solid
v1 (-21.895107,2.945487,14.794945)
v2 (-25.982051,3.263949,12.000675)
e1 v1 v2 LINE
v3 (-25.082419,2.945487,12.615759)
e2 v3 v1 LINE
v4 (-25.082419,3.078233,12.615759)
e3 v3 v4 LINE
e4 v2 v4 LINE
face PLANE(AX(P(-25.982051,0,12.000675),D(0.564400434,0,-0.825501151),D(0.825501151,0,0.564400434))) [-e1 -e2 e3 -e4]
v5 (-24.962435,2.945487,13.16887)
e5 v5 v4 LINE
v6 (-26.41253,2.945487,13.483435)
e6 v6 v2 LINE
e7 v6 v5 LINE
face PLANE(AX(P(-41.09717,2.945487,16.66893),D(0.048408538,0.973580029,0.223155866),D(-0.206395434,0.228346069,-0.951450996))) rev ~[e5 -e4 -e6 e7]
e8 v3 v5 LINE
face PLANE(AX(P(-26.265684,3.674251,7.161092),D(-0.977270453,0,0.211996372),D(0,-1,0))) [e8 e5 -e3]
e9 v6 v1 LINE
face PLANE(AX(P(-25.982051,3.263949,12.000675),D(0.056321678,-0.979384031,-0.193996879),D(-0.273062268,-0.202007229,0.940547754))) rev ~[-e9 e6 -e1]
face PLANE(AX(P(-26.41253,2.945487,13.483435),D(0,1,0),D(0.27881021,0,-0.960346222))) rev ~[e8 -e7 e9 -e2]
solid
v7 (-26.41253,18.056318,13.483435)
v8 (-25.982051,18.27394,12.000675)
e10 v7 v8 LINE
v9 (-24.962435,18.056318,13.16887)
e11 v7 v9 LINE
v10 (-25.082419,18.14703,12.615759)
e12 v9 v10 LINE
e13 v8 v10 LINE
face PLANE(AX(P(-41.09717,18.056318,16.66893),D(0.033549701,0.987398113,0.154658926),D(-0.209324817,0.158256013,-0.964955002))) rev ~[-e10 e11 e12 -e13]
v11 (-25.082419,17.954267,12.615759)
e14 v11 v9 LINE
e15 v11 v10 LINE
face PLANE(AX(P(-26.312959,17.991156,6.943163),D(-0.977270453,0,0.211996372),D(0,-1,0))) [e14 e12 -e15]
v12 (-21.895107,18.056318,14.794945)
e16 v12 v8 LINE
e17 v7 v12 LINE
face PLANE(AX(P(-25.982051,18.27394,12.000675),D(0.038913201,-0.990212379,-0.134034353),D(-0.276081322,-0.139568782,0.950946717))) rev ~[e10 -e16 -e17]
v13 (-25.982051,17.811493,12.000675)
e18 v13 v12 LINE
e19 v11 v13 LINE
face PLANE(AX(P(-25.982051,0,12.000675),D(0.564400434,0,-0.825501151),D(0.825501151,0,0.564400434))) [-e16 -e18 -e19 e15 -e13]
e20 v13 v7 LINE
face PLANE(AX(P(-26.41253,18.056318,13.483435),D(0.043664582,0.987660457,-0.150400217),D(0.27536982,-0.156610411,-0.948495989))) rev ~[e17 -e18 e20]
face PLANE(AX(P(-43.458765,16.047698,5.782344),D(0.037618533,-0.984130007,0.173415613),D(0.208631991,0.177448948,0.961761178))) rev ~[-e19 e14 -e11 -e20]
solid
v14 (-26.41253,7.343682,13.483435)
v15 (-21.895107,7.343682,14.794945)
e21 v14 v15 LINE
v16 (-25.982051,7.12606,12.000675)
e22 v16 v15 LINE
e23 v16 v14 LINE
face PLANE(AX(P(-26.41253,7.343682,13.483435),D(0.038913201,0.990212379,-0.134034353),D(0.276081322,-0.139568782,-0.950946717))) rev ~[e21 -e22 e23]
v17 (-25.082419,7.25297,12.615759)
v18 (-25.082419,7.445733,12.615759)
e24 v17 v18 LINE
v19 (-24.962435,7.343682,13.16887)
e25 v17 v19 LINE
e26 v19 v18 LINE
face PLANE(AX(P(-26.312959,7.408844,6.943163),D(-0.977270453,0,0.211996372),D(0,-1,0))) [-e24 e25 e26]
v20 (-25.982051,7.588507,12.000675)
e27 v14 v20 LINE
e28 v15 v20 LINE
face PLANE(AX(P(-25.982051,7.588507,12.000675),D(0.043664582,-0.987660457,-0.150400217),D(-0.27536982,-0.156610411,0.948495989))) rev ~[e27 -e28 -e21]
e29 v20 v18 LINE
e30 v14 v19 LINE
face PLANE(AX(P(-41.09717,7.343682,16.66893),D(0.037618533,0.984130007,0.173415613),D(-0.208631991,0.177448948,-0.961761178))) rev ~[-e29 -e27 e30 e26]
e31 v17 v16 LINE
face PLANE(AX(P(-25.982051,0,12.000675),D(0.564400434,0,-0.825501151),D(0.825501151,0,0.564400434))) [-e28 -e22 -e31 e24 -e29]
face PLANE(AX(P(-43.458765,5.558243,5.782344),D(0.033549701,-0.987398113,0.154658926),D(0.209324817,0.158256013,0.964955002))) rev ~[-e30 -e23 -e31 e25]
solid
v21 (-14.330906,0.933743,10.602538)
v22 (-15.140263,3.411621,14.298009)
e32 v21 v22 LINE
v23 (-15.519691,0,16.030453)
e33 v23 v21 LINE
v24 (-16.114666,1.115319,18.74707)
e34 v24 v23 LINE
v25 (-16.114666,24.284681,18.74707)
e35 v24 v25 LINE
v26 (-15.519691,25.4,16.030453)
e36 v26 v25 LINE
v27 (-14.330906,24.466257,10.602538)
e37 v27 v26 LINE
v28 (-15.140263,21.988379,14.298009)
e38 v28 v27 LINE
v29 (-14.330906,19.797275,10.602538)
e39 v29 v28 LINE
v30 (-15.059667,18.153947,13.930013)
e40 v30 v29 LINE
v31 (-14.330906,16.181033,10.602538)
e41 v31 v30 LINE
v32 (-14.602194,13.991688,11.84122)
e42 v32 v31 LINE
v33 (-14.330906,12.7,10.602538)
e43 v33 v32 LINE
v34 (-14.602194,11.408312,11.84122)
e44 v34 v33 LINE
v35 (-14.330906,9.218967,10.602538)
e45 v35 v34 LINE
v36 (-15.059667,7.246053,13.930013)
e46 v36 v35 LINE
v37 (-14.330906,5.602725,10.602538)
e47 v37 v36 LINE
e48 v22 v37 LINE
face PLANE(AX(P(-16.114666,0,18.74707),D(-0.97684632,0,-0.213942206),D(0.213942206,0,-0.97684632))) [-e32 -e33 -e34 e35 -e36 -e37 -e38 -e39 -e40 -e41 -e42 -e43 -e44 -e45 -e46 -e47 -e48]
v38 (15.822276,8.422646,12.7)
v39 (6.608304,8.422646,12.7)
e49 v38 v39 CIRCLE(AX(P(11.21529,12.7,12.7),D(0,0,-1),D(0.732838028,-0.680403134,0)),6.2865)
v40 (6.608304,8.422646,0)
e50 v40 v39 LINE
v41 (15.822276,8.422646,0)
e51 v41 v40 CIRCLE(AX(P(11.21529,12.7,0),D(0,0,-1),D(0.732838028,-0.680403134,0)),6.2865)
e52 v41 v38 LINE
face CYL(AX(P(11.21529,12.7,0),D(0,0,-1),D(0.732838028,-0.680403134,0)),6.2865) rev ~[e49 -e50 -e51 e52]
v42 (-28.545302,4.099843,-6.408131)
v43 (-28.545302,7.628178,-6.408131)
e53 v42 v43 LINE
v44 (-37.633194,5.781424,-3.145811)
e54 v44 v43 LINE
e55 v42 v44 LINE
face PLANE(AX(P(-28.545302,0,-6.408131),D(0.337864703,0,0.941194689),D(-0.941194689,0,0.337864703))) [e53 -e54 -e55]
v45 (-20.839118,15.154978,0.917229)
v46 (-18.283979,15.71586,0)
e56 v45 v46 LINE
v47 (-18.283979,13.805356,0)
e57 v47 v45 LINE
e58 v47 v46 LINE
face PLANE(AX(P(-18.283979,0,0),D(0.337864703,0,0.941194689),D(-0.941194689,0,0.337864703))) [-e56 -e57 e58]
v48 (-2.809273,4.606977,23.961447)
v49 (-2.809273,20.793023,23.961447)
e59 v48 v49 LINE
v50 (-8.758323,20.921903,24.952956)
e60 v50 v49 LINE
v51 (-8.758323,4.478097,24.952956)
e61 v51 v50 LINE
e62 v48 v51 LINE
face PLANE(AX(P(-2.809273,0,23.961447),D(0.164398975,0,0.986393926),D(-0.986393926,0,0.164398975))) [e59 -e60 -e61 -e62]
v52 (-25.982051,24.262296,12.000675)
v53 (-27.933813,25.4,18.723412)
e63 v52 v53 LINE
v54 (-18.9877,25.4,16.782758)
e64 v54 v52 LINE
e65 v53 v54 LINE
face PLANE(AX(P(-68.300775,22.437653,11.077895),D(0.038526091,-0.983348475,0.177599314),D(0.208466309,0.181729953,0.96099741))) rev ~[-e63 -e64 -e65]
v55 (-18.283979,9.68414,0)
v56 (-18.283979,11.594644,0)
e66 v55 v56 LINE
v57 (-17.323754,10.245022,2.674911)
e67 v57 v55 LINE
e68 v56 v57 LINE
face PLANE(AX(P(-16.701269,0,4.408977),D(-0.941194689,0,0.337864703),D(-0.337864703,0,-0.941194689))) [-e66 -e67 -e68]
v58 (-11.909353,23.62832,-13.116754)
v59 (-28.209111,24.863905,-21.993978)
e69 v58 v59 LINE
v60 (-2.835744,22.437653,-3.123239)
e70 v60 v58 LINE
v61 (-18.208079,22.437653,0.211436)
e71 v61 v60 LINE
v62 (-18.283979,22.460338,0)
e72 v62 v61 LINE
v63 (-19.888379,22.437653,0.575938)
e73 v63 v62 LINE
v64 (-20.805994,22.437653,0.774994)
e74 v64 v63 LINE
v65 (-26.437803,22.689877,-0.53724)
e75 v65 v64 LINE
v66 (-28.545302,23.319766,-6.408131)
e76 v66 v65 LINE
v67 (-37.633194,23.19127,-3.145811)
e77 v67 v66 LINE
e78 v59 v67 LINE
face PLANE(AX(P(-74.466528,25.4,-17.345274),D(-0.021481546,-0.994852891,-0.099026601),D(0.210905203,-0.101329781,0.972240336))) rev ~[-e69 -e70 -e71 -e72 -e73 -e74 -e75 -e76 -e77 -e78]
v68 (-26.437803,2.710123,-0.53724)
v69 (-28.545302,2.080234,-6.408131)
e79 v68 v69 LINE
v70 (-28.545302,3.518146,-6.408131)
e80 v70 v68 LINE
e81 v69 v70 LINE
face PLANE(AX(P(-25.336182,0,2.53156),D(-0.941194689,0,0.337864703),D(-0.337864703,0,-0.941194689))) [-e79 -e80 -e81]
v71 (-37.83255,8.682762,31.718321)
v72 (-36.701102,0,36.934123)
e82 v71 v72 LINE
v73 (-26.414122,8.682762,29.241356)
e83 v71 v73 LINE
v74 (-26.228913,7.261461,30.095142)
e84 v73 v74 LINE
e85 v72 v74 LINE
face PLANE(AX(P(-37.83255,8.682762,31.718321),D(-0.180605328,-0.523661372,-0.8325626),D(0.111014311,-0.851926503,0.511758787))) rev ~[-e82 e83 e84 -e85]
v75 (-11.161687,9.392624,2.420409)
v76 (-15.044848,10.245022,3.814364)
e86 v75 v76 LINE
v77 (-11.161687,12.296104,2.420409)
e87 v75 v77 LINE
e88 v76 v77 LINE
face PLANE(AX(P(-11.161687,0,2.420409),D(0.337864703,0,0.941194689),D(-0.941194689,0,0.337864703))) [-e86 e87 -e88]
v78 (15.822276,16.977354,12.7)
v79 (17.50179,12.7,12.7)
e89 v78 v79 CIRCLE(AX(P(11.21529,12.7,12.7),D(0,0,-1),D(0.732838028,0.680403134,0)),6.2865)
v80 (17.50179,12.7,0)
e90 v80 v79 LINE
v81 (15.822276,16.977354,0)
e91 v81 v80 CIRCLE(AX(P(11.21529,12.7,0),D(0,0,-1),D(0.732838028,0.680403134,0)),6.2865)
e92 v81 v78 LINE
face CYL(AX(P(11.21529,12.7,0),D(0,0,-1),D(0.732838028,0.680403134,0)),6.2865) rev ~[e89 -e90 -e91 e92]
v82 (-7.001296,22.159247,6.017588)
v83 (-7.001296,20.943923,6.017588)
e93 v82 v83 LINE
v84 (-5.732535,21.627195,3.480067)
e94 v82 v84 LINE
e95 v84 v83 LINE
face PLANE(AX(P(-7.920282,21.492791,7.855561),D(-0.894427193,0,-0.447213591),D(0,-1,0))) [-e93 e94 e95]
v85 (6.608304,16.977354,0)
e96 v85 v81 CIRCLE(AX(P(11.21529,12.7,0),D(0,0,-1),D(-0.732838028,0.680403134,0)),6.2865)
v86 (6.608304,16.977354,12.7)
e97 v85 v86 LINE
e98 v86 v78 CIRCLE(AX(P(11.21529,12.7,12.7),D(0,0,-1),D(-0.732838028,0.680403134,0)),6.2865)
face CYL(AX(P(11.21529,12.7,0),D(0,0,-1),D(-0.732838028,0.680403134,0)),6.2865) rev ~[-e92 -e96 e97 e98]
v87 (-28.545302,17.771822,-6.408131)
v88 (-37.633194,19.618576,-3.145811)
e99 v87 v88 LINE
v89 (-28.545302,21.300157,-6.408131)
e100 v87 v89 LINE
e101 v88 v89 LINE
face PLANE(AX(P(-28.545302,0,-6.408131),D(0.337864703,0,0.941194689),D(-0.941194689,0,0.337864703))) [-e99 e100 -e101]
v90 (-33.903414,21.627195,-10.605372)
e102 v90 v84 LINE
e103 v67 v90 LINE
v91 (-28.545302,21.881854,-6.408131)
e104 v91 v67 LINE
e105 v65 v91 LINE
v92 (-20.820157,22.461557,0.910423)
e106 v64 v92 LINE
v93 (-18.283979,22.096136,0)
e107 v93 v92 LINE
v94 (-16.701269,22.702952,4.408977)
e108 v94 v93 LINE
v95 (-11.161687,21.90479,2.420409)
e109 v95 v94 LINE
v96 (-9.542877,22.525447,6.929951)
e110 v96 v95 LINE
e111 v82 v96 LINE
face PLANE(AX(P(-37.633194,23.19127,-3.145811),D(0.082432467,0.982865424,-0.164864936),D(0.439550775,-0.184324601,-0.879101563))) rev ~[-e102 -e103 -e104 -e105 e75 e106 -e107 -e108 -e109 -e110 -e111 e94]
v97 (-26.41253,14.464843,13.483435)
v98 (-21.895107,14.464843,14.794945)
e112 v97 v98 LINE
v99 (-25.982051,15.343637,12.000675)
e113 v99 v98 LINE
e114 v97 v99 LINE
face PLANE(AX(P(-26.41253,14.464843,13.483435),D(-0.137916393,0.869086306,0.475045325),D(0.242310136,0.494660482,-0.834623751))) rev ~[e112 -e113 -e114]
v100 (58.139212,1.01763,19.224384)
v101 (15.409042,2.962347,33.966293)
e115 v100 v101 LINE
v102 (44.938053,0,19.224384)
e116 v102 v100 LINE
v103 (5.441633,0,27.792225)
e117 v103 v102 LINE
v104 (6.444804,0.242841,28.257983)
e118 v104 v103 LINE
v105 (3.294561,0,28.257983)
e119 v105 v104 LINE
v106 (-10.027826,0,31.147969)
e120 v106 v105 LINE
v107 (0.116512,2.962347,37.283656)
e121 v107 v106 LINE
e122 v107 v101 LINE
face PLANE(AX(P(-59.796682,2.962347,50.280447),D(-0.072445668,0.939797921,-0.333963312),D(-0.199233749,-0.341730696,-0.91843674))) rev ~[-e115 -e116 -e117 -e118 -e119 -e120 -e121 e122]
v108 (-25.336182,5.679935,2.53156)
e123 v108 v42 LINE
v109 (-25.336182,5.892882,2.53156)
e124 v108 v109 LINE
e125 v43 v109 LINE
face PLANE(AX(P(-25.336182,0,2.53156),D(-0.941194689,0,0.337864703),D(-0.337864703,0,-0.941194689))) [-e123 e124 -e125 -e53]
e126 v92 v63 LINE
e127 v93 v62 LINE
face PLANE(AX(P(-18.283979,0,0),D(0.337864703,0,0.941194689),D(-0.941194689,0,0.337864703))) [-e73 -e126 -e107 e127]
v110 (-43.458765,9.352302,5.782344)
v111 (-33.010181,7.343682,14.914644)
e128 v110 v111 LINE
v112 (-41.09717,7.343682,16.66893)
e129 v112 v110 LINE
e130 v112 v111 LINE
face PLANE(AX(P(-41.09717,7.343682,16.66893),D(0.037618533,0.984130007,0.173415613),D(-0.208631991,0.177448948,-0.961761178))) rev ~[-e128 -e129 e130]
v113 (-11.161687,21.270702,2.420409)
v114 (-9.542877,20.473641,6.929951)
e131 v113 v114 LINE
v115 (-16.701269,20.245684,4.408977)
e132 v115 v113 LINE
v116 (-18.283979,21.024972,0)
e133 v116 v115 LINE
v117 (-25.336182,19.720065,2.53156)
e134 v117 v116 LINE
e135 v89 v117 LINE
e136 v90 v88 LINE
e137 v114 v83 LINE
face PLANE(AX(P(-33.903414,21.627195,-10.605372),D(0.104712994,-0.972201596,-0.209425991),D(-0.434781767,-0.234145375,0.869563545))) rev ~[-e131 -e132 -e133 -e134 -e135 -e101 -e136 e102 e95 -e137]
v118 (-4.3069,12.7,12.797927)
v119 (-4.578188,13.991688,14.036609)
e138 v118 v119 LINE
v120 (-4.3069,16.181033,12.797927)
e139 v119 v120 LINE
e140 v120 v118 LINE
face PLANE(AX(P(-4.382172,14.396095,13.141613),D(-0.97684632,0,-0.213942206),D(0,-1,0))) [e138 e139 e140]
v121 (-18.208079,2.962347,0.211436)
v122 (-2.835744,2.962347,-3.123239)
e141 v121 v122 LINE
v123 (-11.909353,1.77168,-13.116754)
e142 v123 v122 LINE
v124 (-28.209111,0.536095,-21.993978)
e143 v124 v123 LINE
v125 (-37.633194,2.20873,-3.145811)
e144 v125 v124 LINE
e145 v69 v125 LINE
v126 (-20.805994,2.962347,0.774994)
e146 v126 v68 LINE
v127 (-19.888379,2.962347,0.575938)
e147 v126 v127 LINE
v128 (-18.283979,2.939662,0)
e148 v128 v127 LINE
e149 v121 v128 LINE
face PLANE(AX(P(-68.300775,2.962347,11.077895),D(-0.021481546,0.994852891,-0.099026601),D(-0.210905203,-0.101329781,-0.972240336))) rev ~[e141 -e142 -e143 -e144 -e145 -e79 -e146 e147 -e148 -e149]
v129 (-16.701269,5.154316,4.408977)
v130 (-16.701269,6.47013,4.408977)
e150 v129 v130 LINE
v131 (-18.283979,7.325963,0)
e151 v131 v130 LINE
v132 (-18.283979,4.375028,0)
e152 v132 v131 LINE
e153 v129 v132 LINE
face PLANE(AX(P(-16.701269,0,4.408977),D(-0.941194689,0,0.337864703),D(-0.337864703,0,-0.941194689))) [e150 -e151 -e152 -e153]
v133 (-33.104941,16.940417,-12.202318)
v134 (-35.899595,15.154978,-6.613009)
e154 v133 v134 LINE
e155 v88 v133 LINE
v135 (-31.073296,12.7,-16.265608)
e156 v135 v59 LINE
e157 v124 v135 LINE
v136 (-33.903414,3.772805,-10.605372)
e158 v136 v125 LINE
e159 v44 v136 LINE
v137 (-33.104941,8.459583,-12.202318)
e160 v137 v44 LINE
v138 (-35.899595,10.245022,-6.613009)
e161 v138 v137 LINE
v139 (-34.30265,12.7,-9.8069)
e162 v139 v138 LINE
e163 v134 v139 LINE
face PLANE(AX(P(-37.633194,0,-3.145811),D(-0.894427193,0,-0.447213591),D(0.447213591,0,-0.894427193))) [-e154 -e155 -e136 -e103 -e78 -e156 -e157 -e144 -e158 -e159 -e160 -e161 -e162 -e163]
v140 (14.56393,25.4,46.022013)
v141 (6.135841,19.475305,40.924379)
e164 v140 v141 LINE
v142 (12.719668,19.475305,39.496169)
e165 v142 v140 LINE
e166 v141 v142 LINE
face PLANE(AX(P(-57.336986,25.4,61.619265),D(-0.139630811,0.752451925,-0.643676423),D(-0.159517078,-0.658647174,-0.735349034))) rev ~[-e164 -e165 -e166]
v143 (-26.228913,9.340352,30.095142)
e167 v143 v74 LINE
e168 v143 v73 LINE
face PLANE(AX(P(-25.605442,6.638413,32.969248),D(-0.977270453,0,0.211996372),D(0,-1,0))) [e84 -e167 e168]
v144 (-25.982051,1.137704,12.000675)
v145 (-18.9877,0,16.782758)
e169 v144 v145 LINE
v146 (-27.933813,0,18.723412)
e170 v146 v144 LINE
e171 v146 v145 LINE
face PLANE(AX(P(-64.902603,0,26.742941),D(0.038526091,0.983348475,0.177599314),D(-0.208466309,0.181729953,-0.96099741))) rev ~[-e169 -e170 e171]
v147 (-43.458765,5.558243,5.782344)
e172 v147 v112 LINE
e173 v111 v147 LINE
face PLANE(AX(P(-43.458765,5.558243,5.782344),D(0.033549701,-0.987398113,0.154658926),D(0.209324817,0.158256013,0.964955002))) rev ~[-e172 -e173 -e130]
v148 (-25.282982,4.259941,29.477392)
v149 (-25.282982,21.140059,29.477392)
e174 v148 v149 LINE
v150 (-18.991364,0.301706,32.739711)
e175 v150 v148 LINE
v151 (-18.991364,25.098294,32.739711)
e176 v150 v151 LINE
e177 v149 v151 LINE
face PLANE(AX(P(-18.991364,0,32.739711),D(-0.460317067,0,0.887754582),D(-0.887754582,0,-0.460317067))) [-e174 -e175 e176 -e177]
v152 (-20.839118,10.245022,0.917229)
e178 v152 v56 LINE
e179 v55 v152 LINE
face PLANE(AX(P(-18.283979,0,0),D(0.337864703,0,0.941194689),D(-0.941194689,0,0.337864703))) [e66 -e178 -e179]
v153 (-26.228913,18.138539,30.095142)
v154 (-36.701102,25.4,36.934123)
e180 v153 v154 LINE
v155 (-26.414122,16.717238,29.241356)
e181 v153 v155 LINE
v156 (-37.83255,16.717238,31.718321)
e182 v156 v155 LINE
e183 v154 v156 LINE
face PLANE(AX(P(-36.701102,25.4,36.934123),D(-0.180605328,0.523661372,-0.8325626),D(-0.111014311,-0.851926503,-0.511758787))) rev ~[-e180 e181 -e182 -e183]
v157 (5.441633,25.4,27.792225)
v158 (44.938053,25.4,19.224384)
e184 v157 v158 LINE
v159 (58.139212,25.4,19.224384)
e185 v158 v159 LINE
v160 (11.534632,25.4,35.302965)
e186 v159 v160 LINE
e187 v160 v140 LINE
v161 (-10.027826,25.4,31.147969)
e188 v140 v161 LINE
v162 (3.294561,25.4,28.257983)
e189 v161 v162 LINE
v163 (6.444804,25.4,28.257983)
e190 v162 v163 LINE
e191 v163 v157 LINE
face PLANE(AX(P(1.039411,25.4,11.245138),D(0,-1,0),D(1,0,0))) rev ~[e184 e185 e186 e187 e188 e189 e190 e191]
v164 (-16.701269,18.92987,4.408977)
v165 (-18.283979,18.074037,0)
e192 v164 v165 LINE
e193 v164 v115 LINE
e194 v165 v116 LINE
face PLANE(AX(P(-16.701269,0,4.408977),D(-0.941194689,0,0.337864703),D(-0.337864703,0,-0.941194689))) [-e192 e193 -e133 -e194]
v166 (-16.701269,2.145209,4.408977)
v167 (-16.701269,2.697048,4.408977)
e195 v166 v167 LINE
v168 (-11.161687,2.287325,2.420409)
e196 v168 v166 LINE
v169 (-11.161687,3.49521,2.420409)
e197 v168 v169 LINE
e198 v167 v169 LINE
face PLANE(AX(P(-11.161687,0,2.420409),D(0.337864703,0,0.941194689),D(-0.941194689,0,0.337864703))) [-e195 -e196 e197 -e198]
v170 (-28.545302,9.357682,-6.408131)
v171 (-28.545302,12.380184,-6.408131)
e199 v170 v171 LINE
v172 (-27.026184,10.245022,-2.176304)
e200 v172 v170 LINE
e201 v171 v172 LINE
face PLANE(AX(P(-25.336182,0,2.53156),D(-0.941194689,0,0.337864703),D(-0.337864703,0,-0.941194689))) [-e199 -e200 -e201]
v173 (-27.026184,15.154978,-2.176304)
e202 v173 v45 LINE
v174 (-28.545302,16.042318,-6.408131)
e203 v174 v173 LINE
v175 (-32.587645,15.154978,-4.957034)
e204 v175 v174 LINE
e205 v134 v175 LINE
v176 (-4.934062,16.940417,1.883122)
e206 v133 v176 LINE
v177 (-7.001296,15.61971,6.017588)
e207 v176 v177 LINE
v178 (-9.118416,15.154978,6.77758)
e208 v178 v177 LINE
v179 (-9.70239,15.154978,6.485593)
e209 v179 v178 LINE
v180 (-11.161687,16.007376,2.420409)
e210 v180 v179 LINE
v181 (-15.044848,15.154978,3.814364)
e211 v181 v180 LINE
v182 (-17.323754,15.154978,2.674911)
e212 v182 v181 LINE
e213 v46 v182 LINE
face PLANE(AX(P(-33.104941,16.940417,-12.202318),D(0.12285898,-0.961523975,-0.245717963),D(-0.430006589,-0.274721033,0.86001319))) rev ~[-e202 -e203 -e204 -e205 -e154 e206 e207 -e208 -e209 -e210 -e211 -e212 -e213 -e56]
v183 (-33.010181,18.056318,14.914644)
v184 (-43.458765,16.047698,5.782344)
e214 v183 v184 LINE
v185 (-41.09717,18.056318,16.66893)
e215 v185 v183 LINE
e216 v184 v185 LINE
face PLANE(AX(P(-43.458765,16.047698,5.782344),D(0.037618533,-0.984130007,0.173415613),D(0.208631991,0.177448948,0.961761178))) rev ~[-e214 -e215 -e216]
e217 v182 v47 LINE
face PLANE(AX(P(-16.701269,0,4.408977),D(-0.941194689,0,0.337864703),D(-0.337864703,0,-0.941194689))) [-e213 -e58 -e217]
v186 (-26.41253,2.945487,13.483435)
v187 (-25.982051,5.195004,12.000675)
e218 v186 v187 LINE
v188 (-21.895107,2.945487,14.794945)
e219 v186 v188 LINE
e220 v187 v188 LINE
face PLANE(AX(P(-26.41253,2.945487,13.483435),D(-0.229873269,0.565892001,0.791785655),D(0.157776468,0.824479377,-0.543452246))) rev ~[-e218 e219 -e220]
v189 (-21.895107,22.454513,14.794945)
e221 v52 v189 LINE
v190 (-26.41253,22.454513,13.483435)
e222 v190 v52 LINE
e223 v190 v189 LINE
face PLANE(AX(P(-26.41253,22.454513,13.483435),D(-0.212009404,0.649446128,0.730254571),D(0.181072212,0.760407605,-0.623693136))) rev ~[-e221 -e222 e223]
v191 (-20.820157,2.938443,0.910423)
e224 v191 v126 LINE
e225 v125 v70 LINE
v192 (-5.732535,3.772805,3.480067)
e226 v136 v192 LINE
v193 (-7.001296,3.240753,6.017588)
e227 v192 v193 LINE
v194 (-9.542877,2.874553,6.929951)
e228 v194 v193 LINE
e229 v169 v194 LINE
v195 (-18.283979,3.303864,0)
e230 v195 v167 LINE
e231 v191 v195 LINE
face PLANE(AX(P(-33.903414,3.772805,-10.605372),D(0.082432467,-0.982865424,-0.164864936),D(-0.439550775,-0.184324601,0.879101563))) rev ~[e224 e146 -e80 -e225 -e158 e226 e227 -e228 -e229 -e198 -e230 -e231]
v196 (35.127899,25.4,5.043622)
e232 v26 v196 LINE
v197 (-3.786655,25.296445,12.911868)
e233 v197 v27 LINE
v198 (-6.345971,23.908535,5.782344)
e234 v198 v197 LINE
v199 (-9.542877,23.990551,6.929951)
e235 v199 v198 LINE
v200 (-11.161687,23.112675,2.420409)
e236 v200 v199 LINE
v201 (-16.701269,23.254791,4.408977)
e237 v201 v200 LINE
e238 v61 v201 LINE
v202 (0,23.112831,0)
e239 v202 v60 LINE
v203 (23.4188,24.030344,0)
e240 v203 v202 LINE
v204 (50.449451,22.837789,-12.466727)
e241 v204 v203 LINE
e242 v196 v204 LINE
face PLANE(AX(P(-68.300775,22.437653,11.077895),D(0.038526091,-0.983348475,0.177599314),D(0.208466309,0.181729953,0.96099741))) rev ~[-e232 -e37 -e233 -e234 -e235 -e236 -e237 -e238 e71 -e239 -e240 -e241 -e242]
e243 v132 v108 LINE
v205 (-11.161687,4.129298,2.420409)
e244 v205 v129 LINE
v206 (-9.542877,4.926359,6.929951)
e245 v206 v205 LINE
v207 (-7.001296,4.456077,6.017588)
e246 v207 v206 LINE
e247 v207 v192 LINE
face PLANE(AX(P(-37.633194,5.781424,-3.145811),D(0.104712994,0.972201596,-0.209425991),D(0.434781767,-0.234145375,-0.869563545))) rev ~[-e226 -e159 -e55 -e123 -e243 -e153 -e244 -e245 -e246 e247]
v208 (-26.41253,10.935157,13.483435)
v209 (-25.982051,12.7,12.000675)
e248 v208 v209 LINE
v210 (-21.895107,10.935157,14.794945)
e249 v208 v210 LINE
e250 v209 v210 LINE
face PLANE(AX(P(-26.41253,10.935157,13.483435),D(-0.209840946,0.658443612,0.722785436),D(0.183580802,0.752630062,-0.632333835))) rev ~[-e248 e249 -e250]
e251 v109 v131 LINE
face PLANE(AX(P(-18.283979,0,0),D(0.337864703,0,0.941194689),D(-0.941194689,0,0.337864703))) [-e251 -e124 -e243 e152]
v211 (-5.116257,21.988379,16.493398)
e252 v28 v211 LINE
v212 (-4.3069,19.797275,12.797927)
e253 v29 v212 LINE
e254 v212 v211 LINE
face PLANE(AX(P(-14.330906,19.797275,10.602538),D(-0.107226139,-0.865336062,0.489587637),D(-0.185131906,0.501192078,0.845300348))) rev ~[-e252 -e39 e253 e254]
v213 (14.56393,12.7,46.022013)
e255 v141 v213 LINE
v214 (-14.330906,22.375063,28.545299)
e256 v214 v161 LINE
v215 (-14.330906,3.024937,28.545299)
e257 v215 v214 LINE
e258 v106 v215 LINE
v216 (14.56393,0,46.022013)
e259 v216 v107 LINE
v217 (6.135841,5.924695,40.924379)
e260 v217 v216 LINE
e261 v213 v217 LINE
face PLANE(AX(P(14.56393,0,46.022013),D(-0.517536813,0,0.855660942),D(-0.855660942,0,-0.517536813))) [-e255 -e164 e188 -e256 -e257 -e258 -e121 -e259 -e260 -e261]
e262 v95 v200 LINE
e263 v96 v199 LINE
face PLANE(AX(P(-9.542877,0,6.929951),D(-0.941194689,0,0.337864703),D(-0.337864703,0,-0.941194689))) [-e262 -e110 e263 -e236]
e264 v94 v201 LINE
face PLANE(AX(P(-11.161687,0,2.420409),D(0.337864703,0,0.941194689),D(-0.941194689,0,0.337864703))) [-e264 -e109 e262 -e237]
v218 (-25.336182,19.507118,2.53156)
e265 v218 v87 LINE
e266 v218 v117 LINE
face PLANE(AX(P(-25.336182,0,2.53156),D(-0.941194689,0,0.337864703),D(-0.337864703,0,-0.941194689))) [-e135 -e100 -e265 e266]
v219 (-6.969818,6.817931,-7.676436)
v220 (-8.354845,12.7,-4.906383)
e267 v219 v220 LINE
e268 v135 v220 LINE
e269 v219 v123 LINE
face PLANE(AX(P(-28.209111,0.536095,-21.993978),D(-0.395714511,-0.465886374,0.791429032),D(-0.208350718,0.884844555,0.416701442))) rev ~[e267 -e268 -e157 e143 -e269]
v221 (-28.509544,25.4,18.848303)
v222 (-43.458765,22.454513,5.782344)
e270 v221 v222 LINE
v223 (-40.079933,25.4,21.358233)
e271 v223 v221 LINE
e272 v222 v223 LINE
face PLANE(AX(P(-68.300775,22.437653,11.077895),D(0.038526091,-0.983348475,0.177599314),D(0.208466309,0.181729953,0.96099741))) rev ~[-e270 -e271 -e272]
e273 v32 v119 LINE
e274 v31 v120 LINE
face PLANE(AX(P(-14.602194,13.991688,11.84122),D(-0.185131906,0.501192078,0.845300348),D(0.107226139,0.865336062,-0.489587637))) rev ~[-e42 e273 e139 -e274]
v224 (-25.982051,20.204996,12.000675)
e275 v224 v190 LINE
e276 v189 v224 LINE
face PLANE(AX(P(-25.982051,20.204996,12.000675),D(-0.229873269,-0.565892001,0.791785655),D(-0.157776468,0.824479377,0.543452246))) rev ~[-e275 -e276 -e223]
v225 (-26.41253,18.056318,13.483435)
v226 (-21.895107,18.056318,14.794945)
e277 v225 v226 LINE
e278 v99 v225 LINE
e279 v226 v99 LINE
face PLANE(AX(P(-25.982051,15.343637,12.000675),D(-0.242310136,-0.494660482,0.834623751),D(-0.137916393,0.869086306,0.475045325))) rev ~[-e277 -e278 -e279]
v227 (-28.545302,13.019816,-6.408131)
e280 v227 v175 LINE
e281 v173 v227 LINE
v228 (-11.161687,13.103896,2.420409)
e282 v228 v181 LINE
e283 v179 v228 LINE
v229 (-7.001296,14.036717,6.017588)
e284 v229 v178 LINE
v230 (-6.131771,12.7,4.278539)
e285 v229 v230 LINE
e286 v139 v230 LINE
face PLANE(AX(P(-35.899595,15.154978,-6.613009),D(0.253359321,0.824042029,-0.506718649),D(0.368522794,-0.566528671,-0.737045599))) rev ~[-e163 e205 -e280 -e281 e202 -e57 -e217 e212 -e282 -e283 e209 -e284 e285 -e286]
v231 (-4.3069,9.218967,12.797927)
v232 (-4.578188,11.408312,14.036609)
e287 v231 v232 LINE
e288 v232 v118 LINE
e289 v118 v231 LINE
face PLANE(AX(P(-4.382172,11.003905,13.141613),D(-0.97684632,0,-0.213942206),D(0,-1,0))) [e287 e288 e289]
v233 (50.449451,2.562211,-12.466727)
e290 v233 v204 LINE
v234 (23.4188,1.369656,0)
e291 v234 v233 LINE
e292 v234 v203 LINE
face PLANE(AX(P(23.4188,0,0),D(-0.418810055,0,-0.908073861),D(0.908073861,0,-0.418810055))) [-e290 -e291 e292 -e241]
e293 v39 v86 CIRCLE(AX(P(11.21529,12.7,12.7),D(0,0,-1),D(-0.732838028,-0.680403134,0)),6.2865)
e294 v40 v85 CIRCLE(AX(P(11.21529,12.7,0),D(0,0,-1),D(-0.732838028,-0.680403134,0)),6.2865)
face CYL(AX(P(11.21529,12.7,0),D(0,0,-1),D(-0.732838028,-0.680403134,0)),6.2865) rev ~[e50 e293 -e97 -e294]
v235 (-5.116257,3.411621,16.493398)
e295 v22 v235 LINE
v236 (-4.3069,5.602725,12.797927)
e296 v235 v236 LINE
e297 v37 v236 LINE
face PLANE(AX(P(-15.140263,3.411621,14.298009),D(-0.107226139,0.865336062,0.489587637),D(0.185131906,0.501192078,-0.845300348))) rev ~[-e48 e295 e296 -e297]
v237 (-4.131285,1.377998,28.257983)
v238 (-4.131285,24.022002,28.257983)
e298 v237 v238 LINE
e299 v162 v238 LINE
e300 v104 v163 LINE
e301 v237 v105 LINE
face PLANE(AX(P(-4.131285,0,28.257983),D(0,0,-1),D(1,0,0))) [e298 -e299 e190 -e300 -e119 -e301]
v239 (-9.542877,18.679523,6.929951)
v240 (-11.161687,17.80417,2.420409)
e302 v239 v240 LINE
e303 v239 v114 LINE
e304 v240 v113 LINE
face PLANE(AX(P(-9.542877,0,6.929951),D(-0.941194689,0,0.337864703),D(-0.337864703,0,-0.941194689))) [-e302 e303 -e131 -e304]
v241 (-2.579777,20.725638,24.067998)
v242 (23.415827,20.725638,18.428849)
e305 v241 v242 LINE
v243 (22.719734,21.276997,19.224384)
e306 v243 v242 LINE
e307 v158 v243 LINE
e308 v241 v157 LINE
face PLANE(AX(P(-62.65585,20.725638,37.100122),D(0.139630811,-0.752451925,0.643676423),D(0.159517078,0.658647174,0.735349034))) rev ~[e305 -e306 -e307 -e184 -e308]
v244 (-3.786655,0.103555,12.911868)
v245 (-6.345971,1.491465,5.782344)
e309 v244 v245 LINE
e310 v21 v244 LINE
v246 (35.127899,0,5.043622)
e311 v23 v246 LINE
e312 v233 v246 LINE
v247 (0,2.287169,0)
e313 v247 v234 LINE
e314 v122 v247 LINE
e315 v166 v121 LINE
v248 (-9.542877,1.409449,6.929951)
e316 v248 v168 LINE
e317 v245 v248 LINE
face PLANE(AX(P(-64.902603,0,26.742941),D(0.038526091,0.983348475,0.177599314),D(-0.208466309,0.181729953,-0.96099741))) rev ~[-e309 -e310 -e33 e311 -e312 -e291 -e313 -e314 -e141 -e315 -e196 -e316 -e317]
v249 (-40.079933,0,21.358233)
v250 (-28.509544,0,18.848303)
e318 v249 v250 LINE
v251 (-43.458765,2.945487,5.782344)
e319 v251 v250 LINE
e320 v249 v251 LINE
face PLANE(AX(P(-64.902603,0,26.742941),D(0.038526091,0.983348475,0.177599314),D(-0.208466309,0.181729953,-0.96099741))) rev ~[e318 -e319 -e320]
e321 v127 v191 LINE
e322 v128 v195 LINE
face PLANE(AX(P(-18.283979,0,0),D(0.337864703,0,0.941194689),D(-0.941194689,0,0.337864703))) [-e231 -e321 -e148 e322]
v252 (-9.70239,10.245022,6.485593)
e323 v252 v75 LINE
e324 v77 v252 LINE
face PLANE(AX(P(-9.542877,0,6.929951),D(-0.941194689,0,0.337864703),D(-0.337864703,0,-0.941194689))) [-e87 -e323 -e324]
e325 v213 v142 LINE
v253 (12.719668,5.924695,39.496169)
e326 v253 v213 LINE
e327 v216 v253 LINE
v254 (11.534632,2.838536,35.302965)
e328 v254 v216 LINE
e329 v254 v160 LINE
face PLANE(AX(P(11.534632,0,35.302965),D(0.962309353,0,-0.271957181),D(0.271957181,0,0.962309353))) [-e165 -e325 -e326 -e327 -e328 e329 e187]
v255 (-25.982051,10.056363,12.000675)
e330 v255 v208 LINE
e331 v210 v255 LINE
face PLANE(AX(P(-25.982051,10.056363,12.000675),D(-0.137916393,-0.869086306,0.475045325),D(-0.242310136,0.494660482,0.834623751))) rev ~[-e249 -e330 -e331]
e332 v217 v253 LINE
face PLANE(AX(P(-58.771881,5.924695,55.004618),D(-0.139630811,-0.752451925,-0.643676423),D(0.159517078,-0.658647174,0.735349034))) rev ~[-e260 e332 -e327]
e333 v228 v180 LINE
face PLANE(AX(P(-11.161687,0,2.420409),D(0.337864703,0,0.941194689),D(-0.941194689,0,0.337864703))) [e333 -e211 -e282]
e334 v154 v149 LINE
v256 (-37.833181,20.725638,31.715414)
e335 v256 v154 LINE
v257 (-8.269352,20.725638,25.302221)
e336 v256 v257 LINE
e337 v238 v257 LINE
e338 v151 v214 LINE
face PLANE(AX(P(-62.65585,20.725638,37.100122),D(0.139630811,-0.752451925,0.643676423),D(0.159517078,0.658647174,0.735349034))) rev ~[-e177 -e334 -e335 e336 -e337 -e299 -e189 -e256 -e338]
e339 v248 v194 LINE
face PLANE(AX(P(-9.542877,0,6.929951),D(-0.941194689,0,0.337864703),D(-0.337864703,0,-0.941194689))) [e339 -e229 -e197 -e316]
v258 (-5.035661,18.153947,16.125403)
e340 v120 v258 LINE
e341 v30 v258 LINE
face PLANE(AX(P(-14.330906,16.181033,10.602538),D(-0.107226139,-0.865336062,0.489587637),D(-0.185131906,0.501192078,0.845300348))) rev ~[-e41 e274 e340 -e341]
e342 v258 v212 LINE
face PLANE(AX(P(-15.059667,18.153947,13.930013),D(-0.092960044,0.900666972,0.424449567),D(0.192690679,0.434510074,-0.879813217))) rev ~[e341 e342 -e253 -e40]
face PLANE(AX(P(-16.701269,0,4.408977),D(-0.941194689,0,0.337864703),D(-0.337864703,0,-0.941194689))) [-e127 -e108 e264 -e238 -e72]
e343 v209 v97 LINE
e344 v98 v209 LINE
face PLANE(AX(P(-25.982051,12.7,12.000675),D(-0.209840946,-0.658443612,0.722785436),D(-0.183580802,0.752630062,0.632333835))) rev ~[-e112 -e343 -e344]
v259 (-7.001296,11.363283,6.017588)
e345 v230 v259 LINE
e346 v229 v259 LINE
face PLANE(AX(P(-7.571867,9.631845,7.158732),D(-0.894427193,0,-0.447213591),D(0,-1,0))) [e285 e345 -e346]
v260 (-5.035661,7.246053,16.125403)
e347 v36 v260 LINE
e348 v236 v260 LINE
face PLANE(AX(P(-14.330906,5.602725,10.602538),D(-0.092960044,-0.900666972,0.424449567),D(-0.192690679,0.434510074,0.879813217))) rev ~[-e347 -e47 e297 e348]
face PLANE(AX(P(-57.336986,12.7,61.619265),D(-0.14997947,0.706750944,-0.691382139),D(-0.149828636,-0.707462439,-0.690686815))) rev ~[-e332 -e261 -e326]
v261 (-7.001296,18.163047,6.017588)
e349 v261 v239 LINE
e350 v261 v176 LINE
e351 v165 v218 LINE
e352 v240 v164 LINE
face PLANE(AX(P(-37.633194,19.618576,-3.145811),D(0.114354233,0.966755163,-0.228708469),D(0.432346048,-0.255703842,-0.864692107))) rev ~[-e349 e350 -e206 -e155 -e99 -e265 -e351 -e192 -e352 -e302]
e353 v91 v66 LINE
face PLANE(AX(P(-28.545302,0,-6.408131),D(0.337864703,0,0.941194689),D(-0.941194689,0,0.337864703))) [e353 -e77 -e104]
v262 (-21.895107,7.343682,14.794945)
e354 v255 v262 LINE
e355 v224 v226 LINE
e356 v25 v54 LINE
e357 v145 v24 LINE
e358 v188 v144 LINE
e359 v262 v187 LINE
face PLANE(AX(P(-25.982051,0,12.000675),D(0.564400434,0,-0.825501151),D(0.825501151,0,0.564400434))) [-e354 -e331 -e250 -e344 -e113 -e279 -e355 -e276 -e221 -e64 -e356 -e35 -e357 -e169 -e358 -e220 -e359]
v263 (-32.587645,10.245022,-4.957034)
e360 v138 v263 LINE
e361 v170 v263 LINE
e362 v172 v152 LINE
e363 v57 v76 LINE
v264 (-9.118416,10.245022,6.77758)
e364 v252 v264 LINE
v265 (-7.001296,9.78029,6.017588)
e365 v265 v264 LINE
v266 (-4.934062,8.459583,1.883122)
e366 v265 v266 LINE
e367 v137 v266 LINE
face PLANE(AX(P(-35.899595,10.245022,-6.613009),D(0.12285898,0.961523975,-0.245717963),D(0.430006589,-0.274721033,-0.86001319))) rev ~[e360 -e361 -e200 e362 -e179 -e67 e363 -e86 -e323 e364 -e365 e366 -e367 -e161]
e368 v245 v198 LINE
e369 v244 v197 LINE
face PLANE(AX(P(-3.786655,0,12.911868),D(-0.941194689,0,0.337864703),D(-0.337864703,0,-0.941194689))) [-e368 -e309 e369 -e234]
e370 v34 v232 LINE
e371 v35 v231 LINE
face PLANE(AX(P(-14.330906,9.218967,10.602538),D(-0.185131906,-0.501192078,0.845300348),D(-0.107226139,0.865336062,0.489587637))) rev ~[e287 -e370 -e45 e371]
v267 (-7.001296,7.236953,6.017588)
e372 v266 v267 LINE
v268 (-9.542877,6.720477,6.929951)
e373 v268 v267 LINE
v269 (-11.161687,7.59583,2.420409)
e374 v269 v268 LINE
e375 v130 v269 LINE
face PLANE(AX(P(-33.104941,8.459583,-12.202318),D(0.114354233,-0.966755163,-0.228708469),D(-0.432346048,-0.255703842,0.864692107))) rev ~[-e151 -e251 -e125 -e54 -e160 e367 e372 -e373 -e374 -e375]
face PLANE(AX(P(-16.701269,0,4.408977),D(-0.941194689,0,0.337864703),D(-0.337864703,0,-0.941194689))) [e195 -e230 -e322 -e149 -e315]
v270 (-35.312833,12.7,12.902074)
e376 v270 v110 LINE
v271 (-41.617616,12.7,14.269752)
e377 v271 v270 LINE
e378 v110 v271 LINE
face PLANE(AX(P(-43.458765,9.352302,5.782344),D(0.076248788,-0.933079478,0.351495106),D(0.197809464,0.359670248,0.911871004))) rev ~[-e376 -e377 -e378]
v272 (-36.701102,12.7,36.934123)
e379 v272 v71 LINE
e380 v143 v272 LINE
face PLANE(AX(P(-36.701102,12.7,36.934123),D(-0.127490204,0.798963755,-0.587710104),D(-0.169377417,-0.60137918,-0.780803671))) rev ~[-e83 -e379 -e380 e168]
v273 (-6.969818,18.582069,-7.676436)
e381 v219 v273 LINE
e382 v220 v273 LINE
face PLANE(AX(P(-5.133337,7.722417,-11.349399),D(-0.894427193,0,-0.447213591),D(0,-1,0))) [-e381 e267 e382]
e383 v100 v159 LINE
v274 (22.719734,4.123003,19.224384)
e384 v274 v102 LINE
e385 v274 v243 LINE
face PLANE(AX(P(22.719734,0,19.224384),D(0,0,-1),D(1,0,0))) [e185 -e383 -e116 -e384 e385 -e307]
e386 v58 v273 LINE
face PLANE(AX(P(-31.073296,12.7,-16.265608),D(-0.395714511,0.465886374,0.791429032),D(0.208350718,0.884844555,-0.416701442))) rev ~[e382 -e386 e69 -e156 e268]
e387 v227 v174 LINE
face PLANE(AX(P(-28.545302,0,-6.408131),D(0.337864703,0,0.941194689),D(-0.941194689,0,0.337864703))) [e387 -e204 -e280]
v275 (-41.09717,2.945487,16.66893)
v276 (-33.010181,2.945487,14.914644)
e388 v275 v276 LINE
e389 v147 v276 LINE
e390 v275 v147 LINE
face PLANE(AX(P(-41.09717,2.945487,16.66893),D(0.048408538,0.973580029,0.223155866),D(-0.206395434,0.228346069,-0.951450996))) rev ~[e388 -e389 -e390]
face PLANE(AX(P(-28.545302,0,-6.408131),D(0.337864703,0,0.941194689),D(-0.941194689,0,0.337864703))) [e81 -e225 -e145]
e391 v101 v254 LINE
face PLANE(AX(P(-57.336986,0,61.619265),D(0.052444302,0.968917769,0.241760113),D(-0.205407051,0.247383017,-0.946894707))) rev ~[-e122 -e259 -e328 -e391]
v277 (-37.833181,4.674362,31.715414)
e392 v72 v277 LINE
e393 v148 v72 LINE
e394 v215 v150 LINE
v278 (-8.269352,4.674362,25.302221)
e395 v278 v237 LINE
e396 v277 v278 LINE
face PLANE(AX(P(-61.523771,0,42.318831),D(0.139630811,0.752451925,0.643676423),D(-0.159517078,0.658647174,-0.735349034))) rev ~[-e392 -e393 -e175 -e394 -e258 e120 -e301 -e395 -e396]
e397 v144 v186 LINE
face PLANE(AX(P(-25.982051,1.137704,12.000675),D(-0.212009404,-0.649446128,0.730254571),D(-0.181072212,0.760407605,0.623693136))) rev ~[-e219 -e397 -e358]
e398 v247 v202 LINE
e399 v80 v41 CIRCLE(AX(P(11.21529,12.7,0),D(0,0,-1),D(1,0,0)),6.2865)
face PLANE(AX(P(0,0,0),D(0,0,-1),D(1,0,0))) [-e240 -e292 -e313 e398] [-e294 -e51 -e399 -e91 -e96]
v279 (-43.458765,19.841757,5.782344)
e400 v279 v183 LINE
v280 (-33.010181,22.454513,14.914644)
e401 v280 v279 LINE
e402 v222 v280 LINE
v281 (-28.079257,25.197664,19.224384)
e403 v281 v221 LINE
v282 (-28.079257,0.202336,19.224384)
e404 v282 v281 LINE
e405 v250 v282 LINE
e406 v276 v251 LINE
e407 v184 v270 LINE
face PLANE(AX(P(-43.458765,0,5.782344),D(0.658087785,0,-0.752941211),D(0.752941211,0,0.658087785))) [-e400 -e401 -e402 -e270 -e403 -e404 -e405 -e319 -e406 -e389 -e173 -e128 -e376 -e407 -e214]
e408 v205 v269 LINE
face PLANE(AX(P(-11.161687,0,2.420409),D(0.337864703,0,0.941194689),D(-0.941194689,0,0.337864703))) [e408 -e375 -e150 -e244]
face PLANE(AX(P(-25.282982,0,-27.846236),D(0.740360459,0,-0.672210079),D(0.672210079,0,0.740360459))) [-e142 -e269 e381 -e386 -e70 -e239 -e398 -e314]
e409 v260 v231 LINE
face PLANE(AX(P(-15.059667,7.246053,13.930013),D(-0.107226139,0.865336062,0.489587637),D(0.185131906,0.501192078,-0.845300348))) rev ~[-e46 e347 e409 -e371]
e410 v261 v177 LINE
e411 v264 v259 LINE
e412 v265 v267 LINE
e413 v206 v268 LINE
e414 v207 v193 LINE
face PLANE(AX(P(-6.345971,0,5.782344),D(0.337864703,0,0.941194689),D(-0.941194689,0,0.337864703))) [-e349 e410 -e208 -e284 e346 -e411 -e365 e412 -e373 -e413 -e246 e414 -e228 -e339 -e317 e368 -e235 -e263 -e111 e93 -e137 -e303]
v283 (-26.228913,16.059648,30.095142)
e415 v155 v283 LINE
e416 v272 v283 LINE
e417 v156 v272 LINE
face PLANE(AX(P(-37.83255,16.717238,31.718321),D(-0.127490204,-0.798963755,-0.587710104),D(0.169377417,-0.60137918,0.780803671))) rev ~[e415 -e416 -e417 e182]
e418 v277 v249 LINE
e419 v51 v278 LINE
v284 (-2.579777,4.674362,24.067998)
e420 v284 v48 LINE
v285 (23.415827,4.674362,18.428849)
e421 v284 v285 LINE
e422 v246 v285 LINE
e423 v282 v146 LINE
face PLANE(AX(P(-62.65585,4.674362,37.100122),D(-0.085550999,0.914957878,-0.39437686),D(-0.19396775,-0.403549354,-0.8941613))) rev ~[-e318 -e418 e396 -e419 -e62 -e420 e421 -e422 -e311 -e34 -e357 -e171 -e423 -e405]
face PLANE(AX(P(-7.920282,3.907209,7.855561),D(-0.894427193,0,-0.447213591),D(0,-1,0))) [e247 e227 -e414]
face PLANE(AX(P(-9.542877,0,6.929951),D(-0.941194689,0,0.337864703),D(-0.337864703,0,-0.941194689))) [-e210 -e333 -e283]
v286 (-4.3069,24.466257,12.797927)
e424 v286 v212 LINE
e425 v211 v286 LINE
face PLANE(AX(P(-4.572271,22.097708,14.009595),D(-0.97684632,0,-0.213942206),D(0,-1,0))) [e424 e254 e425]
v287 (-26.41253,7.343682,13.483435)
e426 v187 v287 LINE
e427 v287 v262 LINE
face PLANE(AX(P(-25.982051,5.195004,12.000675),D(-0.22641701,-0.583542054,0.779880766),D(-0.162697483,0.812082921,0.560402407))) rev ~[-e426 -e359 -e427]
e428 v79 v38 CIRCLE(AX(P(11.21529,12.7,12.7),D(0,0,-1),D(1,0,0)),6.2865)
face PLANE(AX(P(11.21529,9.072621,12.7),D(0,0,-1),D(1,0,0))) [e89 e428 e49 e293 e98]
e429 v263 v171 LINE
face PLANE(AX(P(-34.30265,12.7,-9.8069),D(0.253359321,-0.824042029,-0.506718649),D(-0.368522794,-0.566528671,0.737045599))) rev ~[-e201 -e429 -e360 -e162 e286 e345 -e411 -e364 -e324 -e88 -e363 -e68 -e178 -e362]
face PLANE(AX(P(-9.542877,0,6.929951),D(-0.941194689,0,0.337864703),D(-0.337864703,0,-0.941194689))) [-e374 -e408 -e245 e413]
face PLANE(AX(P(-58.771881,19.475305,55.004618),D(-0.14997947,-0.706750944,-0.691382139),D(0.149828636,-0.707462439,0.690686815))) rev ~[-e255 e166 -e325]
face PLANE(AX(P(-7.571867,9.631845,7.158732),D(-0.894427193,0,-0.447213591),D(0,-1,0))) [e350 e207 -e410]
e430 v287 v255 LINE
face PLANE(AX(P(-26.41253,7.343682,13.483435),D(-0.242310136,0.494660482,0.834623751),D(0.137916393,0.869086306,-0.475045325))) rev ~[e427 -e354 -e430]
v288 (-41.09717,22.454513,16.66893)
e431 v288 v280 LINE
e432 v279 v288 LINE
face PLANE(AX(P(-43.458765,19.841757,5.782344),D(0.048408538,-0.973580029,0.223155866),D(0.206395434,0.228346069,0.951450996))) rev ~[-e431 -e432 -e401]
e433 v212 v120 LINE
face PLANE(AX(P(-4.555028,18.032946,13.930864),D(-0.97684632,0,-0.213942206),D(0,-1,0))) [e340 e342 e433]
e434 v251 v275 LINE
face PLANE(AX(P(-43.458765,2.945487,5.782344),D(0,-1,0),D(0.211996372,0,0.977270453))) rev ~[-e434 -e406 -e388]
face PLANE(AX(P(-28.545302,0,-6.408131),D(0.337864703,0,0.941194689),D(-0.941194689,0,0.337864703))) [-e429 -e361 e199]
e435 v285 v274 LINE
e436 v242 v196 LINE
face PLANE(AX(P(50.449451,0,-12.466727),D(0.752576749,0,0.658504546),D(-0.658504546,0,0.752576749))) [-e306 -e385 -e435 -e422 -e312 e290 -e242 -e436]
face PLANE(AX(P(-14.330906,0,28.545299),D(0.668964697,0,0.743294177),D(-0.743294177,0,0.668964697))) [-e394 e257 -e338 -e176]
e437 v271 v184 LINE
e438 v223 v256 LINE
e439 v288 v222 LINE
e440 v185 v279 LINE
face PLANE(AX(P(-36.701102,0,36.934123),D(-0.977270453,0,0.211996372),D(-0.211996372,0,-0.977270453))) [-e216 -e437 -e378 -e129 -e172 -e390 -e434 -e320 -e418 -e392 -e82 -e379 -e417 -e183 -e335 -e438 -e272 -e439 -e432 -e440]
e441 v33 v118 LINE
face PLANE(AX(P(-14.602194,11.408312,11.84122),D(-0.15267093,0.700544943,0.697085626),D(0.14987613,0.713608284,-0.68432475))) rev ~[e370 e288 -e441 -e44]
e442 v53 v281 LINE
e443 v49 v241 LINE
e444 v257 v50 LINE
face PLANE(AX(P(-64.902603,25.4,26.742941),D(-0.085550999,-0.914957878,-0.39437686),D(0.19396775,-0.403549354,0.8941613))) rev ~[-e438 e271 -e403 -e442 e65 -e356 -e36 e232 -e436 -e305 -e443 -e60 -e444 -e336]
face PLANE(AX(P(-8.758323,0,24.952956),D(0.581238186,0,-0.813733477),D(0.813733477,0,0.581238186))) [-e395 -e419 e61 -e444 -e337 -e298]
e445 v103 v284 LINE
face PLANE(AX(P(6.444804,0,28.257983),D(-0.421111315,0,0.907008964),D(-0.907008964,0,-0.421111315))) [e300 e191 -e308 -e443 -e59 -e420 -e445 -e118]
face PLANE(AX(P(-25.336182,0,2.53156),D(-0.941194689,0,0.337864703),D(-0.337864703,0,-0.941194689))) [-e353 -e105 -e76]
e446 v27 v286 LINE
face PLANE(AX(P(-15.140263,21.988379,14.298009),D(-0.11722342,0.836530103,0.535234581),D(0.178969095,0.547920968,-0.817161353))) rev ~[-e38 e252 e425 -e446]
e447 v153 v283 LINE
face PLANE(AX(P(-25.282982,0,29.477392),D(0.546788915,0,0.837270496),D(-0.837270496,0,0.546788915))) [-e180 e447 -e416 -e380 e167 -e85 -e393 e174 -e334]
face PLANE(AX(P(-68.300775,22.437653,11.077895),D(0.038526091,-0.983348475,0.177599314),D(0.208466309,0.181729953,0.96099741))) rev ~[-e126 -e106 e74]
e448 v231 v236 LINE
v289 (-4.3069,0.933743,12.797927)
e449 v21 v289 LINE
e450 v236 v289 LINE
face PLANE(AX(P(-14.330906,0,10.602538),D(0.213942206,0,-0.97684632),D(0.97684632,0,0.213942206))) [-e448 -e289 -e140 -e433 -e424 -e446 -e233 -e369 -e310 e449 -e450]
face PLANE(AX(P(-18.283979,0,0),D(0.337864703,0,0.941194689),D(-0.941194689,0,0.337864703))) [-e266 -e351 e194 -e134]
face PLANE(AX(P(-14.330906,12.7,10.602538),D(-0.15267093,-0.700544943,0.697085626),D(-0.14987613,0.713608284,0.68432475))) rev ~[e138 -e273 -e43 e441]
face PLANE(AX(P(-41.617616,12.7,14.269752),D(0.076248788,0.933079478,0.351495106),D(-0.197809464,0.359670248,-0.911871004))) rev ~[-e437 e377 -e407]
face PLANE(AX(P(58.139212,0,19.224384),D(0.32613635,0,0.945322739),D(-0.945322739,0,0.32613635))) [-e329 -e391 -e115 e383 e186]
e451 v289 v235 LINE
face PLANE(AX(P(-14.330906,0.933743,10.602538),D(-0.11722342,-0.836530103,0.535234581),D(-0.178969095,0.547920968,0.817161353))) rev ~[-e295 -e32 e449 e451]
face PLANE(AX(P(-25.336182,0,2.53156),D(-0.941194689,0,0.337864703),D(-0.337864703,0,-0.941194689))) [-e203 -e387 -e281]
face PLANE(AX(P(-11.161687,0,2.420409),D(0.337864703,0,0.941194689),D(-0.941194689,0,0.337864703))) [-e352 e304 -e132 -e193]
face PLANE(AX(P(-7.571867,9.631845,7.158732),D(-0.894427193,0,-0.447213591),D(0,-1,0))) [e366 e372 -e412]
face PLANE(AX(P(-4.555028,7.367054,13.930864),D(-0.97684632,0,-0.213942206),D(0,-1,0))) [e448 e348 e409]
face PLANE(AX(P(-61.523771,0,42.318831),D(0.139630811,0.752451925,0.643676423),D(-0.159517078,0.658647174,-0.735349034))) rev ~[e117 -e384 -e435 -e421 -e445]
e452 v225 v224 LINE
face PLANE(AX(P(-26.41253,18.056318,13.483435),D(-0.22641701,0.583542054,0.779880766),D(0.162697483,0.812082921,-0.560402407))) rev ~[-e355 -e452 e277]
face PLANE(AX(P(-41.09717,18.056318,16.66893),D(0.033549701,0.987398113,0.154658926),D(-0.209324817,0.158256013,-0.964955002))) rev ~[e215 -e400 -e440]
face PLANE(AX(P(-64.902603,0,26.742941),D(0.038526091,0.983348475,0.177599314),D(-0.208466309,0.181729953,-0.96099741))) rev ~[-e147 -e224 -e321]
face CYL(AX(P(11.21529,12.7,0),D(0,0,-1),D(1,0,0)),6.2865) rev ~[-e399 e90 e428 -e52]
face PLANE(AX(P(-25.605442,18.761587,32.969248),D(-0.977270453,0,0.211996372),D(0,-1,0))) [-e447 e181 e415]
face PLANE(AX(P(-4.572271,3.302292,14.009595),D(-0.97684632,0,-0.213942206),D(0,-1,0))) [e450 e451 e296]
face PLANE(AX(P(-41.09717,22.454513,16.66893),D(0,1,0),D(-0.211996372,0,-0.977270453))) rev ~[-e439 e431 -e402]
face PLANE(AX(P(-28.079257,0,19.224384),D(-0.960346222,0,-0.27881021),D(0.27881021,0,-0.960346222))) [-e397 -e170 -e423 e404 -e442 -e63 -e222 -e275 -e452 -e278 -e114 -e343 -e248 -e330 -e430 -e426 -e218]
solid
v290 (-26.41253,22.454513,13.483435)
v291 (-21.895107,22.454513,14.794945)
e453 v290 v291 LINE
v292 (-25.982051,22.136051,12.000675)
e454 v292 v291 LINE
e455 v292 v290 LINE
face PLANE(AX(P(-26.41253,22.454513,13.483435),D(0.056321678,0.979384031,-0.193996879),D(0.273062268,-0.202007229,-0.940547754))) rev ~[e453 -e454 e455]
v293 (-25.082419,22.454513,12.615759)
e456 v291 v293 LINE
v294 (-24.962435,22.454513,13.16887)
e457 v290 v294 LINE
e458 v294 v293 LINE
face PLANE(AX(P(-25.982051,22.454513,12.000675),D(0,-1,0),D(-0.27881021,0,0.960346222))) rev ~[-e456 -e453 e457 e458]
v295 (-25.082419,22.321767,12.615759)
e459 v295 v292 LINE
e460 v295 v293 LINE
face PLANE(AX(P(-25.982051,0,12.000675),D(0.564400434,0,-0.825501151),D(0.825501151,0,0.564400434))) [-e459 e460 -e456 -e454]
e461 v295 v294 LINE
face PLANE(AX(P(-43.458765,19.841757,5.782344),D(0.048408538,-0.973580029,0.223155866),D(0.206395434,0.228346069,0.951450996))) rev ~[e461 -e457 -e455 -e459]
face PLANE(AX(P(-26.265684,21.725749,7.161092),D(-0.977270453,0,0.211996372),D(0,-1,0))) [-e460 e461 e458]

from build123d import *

# Parameters (mm, degrees)
F1_DEPTH  = 25.4
F4_DEPTH  = 169.926
F6_DEPTH  = 11.684
F7_DEPTH  = 16.51
F9_DEPTH  = 31.496
F11_DEPTH = 10.2616
F13_DEPTH = 9.652
F15_DEPTH = 25.4
F17_DEPTH = 12.7


with BuildPart() as f1:
    # F0 (on Front) → F1 (new body)
    with BuildSketch(Plane.XZ):
        Polygon((-25.2829822091, -27.8462357014), (0, 0), (23.4188, 0), (50.4494512243, -12.4667265669), (22.7197339698, 19.2243841199), (58.1392117013, 19.2243841199), (11.5346315226, 35.3029645376), (14.5639299105, 46.0220128964), (-14.3309061494, 28.545299105), (-18.9913642986, 32.7397110453), (-25.2829822091, 29.4773915228), (-36.7011018511, 36.9341229856), (-43.4587646572, 5.7823436524), (-28.0792568359, 19.2243841199), (-25.9820508658, 12.0006751049), (-16.1146658425, 18.7470695649), (-14.3309061494, 10.6025377915), (-3.786655088, 12.9118676044), (-6.3459709492, 5.7823436524), (-9.5428774784, 6.9299509319), (-11.1616870292, 2.4204092839), (-16.701269462, 4.4089770031), (-18.28397889, 0), (-25.3361824483, 2.5315598271), (-28.5453017316, -6.4081311043), (-37.6331942689, -3.1458112534), align=None)
        Polygon((-2.8092726134, 23.9614471793), (-8.7583232671, 24.952955544), (-4.131285008, 28.2579828054), (6.4448039047, 28.2579828054), align=None, mode=Mode.SUBTRACT)
    extrude(amount=-F1_DEPTH)

    # F3 (on offset) → F4 (cut)
    with BuildSketch(Plane(origin=(-67.5262634814, 0, 14.6482714288), x_dir=(0, -1, 0), z_dir=(-0.977270453, 0, 0.2119963717))):
        Polygon((14.5066948608, 59.1173246503), (-35.2624282241, 55.4633885622), (-35.2624282241, -53.2410554588), (17.4080338329, -53.2410554588), align=None)
        Polygon((-20.7256378636, 22.9740403172), (-25.4, 28.3141266711), (-25.4, 48.063453692), (-19.4753054529, 41.2949621677), (-12.7, 48.063453692), (-5.9246945471, 41.2949621677), (0, 48.063453692), (-2.9623472735, 36.4609154864), (0, 28.3141266711), (-4.6743621364, 22.9740403172), (0, 12.3759699221), (-2.9623472735, -3.6534166429), (0, -32.7376574278), (-12.7, -28.1106177717), (-25.4, -32.7376574278), (-22.4376527265, -3.6534166429), (-25.4, 12.3759699221), align=None, mode=Mode.SUBTRACT)
    extrude(amount=-F4_DEPTH, mode=Mode.SUBTRACT)

    # F5 (on face) → F6 (cut)
    with BuildSketch(Plane(origin=(-42.7035939744, 0, 9.2635635865), x_dir=(0, -1, 0), z_dir=(-0.977270453, 0, 0.2119963717))):
        Polygon((-16.7172383517, 22.9770150036), (-12.7, 28.3141266711), (-25.4, 28.3141266711), align=None)
        Polygon((0, 28.3141266711), (-12.7, 28.3141266711), (-8.6827616483, 22.9770150036), align=None)
    extrude(amount=-F6_DEPTH, mode=Mode.SUBTRACT)

    # F5 (on face) → F7 (cut)
    with BuildSketch(Plane(origin=(-42.7035939744, 0, 9.2635635865), x_dir=(0, -1, 0), z_dir=(-0.977270453, 0, 0.2119963717))):
        Polygon((-9.3523024857, -3.5621868269), (-12.7, 5.1226234064), (-12.7, -3.5621868269), align=None)
        Polygon((-12.7, -3.5621868269), (-12.7, 5.1226234064), (-16.0476975143, -3.5621868269), align=None)
        Polygon((-2.9454873397, 7.5776022859), (-5.5582433283, -3.5621868269), (-2.9454873397, -3.5621868269), align=None)
        Polygon((-7.3436818361, 7.5776022859), (-9.3523024857, -3.5621868269), (-5.5582433283, -3.5621868269), align=None)
        Polygon((-22.4545126603, -3.5621868269), (-19.8417566717, -3.5621868269), (-22.4545126603, 7.5776022859), align=None)
        Polygon((-19.8417566717, -3.5621868269), (-16.0476975143, -3.5621868269), (-18.0563181639, 7.5776022859), align=None)
    extrude(amount=-F7_DEPTH, mode=Mode.SUBTRACT)

    # F8 (on face) → F9 (cut)
    with BuildSketch(Plane(origin=(-31.3648800665, 0, -15.6824398248), x_dir=(0, -1, 0), z_dir=(-0.8944271934, 0, -0.4472135907))):
        Polygon((-5.7814236075, 14.0163768099), (-12.7, 14.0163768099), (-12.7, 6.5690530464), (-10.2450217396, 10.1399319246), (-8.4595832318, 3.8908948191), align=None)
        Polygon((-12.7, 6.5690530464), (-12.7, 14.0163768099), (-19.6185763925, 14.0163768099), (-16.9404167682, 3.8908948191), (-15.1549782604, 10.1399319246), align=None)
        Polygon((-21.6271951795, 5.6763342582), (-19.6185763925, 14.0163768099), (-23.1912699548, 14.0163768099), align=None)
        Polygon((-2.2087300452, 14.0163768099), (-5.7814236075, 14.0163768099), (-3.7728048205, 5.6763342582), align=None)
    extrude(amount=-F9_DEPTH, mode=Mode.SUBTRACT)

    # F10 (on face) → F11 (cut)
    with BuildSketch(Plane(origin=(-11.4591522864, 0, -2.5097052273), x_dir=(0, -1, 0), z_dir=(-0.9768463199, 0, -0.2139422057))):
        Polygon((-3.4116211623, 17.2060988843), (-5.6027251571, 13.4230356936), (-0.9337430366, 13.4230356936), align=None)
        Polygon((-7.2460531533, 16.8293807656), (-9.2189666148, 13.4230356936), (-5.6027251571, 13.4230356936), align=None)
        Polygon((-11.4083121304, 14.6910778762), (-12.7, 13.4230356936), (-9.2189666148, 13.4230356936), align=None)
        Polygon((-13.9916878696, 14.6910778762), (-16.1810333852, 13.4230356936), (-12.7, 13.4230356936), align=None)
        Polygon((-18.1539468467, 16.8293807656), (-19.7972748429, 13.4230356936), (-16.1810333852, 13.4230356936), align=None)
        Polygon((-21.9883788377, 17.2060988843), (-24.4662569634, 13.4230356936), (-19.7972748429, 13.4230356936), align=None)
    extrude(amount=-F11_DEPTH, mode=Mode.SUBTRACT)

    # F12 (on face) → F13 (cut)
    with BuildSketch(Plane(origin=(-20.7490999243, 0, -6.0239326011), x_dir=(0, -1, 0), z_dir=(-0.9603462222, 0, -0.2788102104))):
        Polygon((-20.2049957102, 18.7688640709), (-22.4545126603, 20.3128488984), (-22.1360511721, 18.7688640709), align=None)
        Polygon((-22.4545126603, 20.3128488984), (-24.262295869, 18.7688640709), (-22.4545126603, 18.7688640709), align=None)
        Polygon((-18.0563181639, 20.3128488984), (-20.2049957102, 18.7688640709), (-18.2739402483, 18.7688640709), align=None)
        Polygon((-15.3436372057, 18.7688640709), (-18.0563181639, 20.3128488984), (-17.8114930351, 18.7688640709), align=None)
        Polygon((-14.4648426905, 20.3128488984), (-15.3436372057, 18.7688640709), (-12.7, 18.7688640709), align=None)
        Polygon((-10.9351573095, 20.3128488984), (-12.7, 18.7688640709), (-10.0563627943, 18.7688640709), align=None)
        Polygon((-7.3436818361, 20.3128488984), (-10.0563627943, 18.7688640709), (-7.5885069649, 18.7688640709), align=None)
        Polygon((-3.2639488279, 18.7688640709), (-2.9454873397, 20.3128488984), (-5.1950042898, 18.7688640709), align=None)
        Polygon((-2.9454873397, 18.7688640709), (-1.137704131, 18.7688640709), (-2.9454873397, 20.3128488984), align=None)
        Polygon((-5.1950042898, 18.7688640709), (-7.3436818361, 20.3128488984), (-7.1260597517, 18.7688640709), align=None)
    extrude(amount=-F13_DEPTH, mode=Mode.SUBTRACT)

    # F14 (on face) + F4_face (on face) + F4_face1 (on face) → F15 (cut)
    with BuildSketch(Plane(origin=(-31.3648800665, 0, -15.6824398248), x_dir=(0, -1, 0), z_dir=(-0.8944271934, 0, -0.4472135907))):
        Polygon((-0.4513815064, -13.5995371861), (-12.7, -0.6520022383), (-12.7, -7.8730575229), align=None)
        Polygon((-12.7, -7.8730575229), (-12.7, -0.6520022383), (-24.9486184936, -13.5995371861), align=None)
        Polygon((-24.9486184936, -13.5995371861), (-12.7, -0.6520022383), (-24.8639052169, -7.056514379), (-25.383249742, -13.5995371861), align=None)
        Polygon((-0.5360947831, -7.056514379), (-12.7, -0.6520022383), (-0.4513815064, -13.5995371861), (-0.016750258, -13.5995371861), align=None)
    with BuildSketch(Plane(origin=(-24.9820310736, 8.6171271688, -24.8672682683), x_dir=(1, 0, 0), z_dir=(-0.1991881392, 0.3423217921, -0.918226484))):
        Polygon((-2.9204324331, -4.5742430651), (3.2275375662, -4.1177018963), (-0.3071051331, 8.6919449615), align=None)
    with BuildSketch(Plane(origin=(-24.9820310736, 16.7828728312, -24.8672682683), x_dir=(1, 0, 0), z_dir=(-0.1991881392, -0.3423217921, -0.918226484))):
        Polygon((-2.9204324331, 4.5742430651), (-0.3071051331, -8.6919449615), (3.2275375662, 4.1177018963), align=None)
    extrude(amount=-F15_DEPTH, dir=(-0.8944271934, 0, -0.4472135907), mode=Mode.SUBTRACT)

    # F16 (on face) → F17 (cut)
    with BuildSketch(Plane(origin=(0, 0, 0), x_dir=(1, 0, 0), z_dir=(0, 0, -1))):
        with BuildLine():
            ThreePointArc((15.8222760521, -8.4226456984), (11.2152897889, -6.4135), (6.6083035258, -8.4226456984))
            Line((6.6083035258, -8.4226456984), (11.2152897889, -12.7))
            Line((11.2152897889, -12.7), (15.8222760521, -8.4226456984))
        make_face()
        with BuildLine():
            Line((11.2152897889, -12.7), (6.6083035258, -8.4226456984))
            ThreePointArc((6.6083035258, -8.4226456984), (4.9287897889, -12.7), (6.6083035258, -16.9773543016))
            Line((6.6083035258, -16.9773543016), (11.2152897889, -12.7))
        make_face()
        with BuildLine():
            Line((15.8222760521, -8.4226456984), (11.2152897889, -12.7))
            Line((11.2152897889, -12.7), (15.8222760521, -16.9773543016))
            ThreePointArc((15.8222760521, -16.9773543016), (17.066866559, -14.9976360794), (17.5017897889, -12.7))
            ThreePointArc((17.5017897889, -12.7), (17.066866559, -10.4023639206), (15.8222760521, -8.4226456984))
        make_face()
        with BuildLine():
            Line((15.8222760521, -16.9773543016), (11.2152897889, -12.7))
            Line((11.2152897889, -12.7), (6.6083035258, -16.9773543016))
            ThreePointArc((6.6083035258, -16.9773543016), (11.2152897889, -18.9865), (15.8222760521, -16.9773543016))
        make_face()
    extrude(amount=-F17_DEPTH, mode=Mode.SUBTRACT)


solid = f1.part
